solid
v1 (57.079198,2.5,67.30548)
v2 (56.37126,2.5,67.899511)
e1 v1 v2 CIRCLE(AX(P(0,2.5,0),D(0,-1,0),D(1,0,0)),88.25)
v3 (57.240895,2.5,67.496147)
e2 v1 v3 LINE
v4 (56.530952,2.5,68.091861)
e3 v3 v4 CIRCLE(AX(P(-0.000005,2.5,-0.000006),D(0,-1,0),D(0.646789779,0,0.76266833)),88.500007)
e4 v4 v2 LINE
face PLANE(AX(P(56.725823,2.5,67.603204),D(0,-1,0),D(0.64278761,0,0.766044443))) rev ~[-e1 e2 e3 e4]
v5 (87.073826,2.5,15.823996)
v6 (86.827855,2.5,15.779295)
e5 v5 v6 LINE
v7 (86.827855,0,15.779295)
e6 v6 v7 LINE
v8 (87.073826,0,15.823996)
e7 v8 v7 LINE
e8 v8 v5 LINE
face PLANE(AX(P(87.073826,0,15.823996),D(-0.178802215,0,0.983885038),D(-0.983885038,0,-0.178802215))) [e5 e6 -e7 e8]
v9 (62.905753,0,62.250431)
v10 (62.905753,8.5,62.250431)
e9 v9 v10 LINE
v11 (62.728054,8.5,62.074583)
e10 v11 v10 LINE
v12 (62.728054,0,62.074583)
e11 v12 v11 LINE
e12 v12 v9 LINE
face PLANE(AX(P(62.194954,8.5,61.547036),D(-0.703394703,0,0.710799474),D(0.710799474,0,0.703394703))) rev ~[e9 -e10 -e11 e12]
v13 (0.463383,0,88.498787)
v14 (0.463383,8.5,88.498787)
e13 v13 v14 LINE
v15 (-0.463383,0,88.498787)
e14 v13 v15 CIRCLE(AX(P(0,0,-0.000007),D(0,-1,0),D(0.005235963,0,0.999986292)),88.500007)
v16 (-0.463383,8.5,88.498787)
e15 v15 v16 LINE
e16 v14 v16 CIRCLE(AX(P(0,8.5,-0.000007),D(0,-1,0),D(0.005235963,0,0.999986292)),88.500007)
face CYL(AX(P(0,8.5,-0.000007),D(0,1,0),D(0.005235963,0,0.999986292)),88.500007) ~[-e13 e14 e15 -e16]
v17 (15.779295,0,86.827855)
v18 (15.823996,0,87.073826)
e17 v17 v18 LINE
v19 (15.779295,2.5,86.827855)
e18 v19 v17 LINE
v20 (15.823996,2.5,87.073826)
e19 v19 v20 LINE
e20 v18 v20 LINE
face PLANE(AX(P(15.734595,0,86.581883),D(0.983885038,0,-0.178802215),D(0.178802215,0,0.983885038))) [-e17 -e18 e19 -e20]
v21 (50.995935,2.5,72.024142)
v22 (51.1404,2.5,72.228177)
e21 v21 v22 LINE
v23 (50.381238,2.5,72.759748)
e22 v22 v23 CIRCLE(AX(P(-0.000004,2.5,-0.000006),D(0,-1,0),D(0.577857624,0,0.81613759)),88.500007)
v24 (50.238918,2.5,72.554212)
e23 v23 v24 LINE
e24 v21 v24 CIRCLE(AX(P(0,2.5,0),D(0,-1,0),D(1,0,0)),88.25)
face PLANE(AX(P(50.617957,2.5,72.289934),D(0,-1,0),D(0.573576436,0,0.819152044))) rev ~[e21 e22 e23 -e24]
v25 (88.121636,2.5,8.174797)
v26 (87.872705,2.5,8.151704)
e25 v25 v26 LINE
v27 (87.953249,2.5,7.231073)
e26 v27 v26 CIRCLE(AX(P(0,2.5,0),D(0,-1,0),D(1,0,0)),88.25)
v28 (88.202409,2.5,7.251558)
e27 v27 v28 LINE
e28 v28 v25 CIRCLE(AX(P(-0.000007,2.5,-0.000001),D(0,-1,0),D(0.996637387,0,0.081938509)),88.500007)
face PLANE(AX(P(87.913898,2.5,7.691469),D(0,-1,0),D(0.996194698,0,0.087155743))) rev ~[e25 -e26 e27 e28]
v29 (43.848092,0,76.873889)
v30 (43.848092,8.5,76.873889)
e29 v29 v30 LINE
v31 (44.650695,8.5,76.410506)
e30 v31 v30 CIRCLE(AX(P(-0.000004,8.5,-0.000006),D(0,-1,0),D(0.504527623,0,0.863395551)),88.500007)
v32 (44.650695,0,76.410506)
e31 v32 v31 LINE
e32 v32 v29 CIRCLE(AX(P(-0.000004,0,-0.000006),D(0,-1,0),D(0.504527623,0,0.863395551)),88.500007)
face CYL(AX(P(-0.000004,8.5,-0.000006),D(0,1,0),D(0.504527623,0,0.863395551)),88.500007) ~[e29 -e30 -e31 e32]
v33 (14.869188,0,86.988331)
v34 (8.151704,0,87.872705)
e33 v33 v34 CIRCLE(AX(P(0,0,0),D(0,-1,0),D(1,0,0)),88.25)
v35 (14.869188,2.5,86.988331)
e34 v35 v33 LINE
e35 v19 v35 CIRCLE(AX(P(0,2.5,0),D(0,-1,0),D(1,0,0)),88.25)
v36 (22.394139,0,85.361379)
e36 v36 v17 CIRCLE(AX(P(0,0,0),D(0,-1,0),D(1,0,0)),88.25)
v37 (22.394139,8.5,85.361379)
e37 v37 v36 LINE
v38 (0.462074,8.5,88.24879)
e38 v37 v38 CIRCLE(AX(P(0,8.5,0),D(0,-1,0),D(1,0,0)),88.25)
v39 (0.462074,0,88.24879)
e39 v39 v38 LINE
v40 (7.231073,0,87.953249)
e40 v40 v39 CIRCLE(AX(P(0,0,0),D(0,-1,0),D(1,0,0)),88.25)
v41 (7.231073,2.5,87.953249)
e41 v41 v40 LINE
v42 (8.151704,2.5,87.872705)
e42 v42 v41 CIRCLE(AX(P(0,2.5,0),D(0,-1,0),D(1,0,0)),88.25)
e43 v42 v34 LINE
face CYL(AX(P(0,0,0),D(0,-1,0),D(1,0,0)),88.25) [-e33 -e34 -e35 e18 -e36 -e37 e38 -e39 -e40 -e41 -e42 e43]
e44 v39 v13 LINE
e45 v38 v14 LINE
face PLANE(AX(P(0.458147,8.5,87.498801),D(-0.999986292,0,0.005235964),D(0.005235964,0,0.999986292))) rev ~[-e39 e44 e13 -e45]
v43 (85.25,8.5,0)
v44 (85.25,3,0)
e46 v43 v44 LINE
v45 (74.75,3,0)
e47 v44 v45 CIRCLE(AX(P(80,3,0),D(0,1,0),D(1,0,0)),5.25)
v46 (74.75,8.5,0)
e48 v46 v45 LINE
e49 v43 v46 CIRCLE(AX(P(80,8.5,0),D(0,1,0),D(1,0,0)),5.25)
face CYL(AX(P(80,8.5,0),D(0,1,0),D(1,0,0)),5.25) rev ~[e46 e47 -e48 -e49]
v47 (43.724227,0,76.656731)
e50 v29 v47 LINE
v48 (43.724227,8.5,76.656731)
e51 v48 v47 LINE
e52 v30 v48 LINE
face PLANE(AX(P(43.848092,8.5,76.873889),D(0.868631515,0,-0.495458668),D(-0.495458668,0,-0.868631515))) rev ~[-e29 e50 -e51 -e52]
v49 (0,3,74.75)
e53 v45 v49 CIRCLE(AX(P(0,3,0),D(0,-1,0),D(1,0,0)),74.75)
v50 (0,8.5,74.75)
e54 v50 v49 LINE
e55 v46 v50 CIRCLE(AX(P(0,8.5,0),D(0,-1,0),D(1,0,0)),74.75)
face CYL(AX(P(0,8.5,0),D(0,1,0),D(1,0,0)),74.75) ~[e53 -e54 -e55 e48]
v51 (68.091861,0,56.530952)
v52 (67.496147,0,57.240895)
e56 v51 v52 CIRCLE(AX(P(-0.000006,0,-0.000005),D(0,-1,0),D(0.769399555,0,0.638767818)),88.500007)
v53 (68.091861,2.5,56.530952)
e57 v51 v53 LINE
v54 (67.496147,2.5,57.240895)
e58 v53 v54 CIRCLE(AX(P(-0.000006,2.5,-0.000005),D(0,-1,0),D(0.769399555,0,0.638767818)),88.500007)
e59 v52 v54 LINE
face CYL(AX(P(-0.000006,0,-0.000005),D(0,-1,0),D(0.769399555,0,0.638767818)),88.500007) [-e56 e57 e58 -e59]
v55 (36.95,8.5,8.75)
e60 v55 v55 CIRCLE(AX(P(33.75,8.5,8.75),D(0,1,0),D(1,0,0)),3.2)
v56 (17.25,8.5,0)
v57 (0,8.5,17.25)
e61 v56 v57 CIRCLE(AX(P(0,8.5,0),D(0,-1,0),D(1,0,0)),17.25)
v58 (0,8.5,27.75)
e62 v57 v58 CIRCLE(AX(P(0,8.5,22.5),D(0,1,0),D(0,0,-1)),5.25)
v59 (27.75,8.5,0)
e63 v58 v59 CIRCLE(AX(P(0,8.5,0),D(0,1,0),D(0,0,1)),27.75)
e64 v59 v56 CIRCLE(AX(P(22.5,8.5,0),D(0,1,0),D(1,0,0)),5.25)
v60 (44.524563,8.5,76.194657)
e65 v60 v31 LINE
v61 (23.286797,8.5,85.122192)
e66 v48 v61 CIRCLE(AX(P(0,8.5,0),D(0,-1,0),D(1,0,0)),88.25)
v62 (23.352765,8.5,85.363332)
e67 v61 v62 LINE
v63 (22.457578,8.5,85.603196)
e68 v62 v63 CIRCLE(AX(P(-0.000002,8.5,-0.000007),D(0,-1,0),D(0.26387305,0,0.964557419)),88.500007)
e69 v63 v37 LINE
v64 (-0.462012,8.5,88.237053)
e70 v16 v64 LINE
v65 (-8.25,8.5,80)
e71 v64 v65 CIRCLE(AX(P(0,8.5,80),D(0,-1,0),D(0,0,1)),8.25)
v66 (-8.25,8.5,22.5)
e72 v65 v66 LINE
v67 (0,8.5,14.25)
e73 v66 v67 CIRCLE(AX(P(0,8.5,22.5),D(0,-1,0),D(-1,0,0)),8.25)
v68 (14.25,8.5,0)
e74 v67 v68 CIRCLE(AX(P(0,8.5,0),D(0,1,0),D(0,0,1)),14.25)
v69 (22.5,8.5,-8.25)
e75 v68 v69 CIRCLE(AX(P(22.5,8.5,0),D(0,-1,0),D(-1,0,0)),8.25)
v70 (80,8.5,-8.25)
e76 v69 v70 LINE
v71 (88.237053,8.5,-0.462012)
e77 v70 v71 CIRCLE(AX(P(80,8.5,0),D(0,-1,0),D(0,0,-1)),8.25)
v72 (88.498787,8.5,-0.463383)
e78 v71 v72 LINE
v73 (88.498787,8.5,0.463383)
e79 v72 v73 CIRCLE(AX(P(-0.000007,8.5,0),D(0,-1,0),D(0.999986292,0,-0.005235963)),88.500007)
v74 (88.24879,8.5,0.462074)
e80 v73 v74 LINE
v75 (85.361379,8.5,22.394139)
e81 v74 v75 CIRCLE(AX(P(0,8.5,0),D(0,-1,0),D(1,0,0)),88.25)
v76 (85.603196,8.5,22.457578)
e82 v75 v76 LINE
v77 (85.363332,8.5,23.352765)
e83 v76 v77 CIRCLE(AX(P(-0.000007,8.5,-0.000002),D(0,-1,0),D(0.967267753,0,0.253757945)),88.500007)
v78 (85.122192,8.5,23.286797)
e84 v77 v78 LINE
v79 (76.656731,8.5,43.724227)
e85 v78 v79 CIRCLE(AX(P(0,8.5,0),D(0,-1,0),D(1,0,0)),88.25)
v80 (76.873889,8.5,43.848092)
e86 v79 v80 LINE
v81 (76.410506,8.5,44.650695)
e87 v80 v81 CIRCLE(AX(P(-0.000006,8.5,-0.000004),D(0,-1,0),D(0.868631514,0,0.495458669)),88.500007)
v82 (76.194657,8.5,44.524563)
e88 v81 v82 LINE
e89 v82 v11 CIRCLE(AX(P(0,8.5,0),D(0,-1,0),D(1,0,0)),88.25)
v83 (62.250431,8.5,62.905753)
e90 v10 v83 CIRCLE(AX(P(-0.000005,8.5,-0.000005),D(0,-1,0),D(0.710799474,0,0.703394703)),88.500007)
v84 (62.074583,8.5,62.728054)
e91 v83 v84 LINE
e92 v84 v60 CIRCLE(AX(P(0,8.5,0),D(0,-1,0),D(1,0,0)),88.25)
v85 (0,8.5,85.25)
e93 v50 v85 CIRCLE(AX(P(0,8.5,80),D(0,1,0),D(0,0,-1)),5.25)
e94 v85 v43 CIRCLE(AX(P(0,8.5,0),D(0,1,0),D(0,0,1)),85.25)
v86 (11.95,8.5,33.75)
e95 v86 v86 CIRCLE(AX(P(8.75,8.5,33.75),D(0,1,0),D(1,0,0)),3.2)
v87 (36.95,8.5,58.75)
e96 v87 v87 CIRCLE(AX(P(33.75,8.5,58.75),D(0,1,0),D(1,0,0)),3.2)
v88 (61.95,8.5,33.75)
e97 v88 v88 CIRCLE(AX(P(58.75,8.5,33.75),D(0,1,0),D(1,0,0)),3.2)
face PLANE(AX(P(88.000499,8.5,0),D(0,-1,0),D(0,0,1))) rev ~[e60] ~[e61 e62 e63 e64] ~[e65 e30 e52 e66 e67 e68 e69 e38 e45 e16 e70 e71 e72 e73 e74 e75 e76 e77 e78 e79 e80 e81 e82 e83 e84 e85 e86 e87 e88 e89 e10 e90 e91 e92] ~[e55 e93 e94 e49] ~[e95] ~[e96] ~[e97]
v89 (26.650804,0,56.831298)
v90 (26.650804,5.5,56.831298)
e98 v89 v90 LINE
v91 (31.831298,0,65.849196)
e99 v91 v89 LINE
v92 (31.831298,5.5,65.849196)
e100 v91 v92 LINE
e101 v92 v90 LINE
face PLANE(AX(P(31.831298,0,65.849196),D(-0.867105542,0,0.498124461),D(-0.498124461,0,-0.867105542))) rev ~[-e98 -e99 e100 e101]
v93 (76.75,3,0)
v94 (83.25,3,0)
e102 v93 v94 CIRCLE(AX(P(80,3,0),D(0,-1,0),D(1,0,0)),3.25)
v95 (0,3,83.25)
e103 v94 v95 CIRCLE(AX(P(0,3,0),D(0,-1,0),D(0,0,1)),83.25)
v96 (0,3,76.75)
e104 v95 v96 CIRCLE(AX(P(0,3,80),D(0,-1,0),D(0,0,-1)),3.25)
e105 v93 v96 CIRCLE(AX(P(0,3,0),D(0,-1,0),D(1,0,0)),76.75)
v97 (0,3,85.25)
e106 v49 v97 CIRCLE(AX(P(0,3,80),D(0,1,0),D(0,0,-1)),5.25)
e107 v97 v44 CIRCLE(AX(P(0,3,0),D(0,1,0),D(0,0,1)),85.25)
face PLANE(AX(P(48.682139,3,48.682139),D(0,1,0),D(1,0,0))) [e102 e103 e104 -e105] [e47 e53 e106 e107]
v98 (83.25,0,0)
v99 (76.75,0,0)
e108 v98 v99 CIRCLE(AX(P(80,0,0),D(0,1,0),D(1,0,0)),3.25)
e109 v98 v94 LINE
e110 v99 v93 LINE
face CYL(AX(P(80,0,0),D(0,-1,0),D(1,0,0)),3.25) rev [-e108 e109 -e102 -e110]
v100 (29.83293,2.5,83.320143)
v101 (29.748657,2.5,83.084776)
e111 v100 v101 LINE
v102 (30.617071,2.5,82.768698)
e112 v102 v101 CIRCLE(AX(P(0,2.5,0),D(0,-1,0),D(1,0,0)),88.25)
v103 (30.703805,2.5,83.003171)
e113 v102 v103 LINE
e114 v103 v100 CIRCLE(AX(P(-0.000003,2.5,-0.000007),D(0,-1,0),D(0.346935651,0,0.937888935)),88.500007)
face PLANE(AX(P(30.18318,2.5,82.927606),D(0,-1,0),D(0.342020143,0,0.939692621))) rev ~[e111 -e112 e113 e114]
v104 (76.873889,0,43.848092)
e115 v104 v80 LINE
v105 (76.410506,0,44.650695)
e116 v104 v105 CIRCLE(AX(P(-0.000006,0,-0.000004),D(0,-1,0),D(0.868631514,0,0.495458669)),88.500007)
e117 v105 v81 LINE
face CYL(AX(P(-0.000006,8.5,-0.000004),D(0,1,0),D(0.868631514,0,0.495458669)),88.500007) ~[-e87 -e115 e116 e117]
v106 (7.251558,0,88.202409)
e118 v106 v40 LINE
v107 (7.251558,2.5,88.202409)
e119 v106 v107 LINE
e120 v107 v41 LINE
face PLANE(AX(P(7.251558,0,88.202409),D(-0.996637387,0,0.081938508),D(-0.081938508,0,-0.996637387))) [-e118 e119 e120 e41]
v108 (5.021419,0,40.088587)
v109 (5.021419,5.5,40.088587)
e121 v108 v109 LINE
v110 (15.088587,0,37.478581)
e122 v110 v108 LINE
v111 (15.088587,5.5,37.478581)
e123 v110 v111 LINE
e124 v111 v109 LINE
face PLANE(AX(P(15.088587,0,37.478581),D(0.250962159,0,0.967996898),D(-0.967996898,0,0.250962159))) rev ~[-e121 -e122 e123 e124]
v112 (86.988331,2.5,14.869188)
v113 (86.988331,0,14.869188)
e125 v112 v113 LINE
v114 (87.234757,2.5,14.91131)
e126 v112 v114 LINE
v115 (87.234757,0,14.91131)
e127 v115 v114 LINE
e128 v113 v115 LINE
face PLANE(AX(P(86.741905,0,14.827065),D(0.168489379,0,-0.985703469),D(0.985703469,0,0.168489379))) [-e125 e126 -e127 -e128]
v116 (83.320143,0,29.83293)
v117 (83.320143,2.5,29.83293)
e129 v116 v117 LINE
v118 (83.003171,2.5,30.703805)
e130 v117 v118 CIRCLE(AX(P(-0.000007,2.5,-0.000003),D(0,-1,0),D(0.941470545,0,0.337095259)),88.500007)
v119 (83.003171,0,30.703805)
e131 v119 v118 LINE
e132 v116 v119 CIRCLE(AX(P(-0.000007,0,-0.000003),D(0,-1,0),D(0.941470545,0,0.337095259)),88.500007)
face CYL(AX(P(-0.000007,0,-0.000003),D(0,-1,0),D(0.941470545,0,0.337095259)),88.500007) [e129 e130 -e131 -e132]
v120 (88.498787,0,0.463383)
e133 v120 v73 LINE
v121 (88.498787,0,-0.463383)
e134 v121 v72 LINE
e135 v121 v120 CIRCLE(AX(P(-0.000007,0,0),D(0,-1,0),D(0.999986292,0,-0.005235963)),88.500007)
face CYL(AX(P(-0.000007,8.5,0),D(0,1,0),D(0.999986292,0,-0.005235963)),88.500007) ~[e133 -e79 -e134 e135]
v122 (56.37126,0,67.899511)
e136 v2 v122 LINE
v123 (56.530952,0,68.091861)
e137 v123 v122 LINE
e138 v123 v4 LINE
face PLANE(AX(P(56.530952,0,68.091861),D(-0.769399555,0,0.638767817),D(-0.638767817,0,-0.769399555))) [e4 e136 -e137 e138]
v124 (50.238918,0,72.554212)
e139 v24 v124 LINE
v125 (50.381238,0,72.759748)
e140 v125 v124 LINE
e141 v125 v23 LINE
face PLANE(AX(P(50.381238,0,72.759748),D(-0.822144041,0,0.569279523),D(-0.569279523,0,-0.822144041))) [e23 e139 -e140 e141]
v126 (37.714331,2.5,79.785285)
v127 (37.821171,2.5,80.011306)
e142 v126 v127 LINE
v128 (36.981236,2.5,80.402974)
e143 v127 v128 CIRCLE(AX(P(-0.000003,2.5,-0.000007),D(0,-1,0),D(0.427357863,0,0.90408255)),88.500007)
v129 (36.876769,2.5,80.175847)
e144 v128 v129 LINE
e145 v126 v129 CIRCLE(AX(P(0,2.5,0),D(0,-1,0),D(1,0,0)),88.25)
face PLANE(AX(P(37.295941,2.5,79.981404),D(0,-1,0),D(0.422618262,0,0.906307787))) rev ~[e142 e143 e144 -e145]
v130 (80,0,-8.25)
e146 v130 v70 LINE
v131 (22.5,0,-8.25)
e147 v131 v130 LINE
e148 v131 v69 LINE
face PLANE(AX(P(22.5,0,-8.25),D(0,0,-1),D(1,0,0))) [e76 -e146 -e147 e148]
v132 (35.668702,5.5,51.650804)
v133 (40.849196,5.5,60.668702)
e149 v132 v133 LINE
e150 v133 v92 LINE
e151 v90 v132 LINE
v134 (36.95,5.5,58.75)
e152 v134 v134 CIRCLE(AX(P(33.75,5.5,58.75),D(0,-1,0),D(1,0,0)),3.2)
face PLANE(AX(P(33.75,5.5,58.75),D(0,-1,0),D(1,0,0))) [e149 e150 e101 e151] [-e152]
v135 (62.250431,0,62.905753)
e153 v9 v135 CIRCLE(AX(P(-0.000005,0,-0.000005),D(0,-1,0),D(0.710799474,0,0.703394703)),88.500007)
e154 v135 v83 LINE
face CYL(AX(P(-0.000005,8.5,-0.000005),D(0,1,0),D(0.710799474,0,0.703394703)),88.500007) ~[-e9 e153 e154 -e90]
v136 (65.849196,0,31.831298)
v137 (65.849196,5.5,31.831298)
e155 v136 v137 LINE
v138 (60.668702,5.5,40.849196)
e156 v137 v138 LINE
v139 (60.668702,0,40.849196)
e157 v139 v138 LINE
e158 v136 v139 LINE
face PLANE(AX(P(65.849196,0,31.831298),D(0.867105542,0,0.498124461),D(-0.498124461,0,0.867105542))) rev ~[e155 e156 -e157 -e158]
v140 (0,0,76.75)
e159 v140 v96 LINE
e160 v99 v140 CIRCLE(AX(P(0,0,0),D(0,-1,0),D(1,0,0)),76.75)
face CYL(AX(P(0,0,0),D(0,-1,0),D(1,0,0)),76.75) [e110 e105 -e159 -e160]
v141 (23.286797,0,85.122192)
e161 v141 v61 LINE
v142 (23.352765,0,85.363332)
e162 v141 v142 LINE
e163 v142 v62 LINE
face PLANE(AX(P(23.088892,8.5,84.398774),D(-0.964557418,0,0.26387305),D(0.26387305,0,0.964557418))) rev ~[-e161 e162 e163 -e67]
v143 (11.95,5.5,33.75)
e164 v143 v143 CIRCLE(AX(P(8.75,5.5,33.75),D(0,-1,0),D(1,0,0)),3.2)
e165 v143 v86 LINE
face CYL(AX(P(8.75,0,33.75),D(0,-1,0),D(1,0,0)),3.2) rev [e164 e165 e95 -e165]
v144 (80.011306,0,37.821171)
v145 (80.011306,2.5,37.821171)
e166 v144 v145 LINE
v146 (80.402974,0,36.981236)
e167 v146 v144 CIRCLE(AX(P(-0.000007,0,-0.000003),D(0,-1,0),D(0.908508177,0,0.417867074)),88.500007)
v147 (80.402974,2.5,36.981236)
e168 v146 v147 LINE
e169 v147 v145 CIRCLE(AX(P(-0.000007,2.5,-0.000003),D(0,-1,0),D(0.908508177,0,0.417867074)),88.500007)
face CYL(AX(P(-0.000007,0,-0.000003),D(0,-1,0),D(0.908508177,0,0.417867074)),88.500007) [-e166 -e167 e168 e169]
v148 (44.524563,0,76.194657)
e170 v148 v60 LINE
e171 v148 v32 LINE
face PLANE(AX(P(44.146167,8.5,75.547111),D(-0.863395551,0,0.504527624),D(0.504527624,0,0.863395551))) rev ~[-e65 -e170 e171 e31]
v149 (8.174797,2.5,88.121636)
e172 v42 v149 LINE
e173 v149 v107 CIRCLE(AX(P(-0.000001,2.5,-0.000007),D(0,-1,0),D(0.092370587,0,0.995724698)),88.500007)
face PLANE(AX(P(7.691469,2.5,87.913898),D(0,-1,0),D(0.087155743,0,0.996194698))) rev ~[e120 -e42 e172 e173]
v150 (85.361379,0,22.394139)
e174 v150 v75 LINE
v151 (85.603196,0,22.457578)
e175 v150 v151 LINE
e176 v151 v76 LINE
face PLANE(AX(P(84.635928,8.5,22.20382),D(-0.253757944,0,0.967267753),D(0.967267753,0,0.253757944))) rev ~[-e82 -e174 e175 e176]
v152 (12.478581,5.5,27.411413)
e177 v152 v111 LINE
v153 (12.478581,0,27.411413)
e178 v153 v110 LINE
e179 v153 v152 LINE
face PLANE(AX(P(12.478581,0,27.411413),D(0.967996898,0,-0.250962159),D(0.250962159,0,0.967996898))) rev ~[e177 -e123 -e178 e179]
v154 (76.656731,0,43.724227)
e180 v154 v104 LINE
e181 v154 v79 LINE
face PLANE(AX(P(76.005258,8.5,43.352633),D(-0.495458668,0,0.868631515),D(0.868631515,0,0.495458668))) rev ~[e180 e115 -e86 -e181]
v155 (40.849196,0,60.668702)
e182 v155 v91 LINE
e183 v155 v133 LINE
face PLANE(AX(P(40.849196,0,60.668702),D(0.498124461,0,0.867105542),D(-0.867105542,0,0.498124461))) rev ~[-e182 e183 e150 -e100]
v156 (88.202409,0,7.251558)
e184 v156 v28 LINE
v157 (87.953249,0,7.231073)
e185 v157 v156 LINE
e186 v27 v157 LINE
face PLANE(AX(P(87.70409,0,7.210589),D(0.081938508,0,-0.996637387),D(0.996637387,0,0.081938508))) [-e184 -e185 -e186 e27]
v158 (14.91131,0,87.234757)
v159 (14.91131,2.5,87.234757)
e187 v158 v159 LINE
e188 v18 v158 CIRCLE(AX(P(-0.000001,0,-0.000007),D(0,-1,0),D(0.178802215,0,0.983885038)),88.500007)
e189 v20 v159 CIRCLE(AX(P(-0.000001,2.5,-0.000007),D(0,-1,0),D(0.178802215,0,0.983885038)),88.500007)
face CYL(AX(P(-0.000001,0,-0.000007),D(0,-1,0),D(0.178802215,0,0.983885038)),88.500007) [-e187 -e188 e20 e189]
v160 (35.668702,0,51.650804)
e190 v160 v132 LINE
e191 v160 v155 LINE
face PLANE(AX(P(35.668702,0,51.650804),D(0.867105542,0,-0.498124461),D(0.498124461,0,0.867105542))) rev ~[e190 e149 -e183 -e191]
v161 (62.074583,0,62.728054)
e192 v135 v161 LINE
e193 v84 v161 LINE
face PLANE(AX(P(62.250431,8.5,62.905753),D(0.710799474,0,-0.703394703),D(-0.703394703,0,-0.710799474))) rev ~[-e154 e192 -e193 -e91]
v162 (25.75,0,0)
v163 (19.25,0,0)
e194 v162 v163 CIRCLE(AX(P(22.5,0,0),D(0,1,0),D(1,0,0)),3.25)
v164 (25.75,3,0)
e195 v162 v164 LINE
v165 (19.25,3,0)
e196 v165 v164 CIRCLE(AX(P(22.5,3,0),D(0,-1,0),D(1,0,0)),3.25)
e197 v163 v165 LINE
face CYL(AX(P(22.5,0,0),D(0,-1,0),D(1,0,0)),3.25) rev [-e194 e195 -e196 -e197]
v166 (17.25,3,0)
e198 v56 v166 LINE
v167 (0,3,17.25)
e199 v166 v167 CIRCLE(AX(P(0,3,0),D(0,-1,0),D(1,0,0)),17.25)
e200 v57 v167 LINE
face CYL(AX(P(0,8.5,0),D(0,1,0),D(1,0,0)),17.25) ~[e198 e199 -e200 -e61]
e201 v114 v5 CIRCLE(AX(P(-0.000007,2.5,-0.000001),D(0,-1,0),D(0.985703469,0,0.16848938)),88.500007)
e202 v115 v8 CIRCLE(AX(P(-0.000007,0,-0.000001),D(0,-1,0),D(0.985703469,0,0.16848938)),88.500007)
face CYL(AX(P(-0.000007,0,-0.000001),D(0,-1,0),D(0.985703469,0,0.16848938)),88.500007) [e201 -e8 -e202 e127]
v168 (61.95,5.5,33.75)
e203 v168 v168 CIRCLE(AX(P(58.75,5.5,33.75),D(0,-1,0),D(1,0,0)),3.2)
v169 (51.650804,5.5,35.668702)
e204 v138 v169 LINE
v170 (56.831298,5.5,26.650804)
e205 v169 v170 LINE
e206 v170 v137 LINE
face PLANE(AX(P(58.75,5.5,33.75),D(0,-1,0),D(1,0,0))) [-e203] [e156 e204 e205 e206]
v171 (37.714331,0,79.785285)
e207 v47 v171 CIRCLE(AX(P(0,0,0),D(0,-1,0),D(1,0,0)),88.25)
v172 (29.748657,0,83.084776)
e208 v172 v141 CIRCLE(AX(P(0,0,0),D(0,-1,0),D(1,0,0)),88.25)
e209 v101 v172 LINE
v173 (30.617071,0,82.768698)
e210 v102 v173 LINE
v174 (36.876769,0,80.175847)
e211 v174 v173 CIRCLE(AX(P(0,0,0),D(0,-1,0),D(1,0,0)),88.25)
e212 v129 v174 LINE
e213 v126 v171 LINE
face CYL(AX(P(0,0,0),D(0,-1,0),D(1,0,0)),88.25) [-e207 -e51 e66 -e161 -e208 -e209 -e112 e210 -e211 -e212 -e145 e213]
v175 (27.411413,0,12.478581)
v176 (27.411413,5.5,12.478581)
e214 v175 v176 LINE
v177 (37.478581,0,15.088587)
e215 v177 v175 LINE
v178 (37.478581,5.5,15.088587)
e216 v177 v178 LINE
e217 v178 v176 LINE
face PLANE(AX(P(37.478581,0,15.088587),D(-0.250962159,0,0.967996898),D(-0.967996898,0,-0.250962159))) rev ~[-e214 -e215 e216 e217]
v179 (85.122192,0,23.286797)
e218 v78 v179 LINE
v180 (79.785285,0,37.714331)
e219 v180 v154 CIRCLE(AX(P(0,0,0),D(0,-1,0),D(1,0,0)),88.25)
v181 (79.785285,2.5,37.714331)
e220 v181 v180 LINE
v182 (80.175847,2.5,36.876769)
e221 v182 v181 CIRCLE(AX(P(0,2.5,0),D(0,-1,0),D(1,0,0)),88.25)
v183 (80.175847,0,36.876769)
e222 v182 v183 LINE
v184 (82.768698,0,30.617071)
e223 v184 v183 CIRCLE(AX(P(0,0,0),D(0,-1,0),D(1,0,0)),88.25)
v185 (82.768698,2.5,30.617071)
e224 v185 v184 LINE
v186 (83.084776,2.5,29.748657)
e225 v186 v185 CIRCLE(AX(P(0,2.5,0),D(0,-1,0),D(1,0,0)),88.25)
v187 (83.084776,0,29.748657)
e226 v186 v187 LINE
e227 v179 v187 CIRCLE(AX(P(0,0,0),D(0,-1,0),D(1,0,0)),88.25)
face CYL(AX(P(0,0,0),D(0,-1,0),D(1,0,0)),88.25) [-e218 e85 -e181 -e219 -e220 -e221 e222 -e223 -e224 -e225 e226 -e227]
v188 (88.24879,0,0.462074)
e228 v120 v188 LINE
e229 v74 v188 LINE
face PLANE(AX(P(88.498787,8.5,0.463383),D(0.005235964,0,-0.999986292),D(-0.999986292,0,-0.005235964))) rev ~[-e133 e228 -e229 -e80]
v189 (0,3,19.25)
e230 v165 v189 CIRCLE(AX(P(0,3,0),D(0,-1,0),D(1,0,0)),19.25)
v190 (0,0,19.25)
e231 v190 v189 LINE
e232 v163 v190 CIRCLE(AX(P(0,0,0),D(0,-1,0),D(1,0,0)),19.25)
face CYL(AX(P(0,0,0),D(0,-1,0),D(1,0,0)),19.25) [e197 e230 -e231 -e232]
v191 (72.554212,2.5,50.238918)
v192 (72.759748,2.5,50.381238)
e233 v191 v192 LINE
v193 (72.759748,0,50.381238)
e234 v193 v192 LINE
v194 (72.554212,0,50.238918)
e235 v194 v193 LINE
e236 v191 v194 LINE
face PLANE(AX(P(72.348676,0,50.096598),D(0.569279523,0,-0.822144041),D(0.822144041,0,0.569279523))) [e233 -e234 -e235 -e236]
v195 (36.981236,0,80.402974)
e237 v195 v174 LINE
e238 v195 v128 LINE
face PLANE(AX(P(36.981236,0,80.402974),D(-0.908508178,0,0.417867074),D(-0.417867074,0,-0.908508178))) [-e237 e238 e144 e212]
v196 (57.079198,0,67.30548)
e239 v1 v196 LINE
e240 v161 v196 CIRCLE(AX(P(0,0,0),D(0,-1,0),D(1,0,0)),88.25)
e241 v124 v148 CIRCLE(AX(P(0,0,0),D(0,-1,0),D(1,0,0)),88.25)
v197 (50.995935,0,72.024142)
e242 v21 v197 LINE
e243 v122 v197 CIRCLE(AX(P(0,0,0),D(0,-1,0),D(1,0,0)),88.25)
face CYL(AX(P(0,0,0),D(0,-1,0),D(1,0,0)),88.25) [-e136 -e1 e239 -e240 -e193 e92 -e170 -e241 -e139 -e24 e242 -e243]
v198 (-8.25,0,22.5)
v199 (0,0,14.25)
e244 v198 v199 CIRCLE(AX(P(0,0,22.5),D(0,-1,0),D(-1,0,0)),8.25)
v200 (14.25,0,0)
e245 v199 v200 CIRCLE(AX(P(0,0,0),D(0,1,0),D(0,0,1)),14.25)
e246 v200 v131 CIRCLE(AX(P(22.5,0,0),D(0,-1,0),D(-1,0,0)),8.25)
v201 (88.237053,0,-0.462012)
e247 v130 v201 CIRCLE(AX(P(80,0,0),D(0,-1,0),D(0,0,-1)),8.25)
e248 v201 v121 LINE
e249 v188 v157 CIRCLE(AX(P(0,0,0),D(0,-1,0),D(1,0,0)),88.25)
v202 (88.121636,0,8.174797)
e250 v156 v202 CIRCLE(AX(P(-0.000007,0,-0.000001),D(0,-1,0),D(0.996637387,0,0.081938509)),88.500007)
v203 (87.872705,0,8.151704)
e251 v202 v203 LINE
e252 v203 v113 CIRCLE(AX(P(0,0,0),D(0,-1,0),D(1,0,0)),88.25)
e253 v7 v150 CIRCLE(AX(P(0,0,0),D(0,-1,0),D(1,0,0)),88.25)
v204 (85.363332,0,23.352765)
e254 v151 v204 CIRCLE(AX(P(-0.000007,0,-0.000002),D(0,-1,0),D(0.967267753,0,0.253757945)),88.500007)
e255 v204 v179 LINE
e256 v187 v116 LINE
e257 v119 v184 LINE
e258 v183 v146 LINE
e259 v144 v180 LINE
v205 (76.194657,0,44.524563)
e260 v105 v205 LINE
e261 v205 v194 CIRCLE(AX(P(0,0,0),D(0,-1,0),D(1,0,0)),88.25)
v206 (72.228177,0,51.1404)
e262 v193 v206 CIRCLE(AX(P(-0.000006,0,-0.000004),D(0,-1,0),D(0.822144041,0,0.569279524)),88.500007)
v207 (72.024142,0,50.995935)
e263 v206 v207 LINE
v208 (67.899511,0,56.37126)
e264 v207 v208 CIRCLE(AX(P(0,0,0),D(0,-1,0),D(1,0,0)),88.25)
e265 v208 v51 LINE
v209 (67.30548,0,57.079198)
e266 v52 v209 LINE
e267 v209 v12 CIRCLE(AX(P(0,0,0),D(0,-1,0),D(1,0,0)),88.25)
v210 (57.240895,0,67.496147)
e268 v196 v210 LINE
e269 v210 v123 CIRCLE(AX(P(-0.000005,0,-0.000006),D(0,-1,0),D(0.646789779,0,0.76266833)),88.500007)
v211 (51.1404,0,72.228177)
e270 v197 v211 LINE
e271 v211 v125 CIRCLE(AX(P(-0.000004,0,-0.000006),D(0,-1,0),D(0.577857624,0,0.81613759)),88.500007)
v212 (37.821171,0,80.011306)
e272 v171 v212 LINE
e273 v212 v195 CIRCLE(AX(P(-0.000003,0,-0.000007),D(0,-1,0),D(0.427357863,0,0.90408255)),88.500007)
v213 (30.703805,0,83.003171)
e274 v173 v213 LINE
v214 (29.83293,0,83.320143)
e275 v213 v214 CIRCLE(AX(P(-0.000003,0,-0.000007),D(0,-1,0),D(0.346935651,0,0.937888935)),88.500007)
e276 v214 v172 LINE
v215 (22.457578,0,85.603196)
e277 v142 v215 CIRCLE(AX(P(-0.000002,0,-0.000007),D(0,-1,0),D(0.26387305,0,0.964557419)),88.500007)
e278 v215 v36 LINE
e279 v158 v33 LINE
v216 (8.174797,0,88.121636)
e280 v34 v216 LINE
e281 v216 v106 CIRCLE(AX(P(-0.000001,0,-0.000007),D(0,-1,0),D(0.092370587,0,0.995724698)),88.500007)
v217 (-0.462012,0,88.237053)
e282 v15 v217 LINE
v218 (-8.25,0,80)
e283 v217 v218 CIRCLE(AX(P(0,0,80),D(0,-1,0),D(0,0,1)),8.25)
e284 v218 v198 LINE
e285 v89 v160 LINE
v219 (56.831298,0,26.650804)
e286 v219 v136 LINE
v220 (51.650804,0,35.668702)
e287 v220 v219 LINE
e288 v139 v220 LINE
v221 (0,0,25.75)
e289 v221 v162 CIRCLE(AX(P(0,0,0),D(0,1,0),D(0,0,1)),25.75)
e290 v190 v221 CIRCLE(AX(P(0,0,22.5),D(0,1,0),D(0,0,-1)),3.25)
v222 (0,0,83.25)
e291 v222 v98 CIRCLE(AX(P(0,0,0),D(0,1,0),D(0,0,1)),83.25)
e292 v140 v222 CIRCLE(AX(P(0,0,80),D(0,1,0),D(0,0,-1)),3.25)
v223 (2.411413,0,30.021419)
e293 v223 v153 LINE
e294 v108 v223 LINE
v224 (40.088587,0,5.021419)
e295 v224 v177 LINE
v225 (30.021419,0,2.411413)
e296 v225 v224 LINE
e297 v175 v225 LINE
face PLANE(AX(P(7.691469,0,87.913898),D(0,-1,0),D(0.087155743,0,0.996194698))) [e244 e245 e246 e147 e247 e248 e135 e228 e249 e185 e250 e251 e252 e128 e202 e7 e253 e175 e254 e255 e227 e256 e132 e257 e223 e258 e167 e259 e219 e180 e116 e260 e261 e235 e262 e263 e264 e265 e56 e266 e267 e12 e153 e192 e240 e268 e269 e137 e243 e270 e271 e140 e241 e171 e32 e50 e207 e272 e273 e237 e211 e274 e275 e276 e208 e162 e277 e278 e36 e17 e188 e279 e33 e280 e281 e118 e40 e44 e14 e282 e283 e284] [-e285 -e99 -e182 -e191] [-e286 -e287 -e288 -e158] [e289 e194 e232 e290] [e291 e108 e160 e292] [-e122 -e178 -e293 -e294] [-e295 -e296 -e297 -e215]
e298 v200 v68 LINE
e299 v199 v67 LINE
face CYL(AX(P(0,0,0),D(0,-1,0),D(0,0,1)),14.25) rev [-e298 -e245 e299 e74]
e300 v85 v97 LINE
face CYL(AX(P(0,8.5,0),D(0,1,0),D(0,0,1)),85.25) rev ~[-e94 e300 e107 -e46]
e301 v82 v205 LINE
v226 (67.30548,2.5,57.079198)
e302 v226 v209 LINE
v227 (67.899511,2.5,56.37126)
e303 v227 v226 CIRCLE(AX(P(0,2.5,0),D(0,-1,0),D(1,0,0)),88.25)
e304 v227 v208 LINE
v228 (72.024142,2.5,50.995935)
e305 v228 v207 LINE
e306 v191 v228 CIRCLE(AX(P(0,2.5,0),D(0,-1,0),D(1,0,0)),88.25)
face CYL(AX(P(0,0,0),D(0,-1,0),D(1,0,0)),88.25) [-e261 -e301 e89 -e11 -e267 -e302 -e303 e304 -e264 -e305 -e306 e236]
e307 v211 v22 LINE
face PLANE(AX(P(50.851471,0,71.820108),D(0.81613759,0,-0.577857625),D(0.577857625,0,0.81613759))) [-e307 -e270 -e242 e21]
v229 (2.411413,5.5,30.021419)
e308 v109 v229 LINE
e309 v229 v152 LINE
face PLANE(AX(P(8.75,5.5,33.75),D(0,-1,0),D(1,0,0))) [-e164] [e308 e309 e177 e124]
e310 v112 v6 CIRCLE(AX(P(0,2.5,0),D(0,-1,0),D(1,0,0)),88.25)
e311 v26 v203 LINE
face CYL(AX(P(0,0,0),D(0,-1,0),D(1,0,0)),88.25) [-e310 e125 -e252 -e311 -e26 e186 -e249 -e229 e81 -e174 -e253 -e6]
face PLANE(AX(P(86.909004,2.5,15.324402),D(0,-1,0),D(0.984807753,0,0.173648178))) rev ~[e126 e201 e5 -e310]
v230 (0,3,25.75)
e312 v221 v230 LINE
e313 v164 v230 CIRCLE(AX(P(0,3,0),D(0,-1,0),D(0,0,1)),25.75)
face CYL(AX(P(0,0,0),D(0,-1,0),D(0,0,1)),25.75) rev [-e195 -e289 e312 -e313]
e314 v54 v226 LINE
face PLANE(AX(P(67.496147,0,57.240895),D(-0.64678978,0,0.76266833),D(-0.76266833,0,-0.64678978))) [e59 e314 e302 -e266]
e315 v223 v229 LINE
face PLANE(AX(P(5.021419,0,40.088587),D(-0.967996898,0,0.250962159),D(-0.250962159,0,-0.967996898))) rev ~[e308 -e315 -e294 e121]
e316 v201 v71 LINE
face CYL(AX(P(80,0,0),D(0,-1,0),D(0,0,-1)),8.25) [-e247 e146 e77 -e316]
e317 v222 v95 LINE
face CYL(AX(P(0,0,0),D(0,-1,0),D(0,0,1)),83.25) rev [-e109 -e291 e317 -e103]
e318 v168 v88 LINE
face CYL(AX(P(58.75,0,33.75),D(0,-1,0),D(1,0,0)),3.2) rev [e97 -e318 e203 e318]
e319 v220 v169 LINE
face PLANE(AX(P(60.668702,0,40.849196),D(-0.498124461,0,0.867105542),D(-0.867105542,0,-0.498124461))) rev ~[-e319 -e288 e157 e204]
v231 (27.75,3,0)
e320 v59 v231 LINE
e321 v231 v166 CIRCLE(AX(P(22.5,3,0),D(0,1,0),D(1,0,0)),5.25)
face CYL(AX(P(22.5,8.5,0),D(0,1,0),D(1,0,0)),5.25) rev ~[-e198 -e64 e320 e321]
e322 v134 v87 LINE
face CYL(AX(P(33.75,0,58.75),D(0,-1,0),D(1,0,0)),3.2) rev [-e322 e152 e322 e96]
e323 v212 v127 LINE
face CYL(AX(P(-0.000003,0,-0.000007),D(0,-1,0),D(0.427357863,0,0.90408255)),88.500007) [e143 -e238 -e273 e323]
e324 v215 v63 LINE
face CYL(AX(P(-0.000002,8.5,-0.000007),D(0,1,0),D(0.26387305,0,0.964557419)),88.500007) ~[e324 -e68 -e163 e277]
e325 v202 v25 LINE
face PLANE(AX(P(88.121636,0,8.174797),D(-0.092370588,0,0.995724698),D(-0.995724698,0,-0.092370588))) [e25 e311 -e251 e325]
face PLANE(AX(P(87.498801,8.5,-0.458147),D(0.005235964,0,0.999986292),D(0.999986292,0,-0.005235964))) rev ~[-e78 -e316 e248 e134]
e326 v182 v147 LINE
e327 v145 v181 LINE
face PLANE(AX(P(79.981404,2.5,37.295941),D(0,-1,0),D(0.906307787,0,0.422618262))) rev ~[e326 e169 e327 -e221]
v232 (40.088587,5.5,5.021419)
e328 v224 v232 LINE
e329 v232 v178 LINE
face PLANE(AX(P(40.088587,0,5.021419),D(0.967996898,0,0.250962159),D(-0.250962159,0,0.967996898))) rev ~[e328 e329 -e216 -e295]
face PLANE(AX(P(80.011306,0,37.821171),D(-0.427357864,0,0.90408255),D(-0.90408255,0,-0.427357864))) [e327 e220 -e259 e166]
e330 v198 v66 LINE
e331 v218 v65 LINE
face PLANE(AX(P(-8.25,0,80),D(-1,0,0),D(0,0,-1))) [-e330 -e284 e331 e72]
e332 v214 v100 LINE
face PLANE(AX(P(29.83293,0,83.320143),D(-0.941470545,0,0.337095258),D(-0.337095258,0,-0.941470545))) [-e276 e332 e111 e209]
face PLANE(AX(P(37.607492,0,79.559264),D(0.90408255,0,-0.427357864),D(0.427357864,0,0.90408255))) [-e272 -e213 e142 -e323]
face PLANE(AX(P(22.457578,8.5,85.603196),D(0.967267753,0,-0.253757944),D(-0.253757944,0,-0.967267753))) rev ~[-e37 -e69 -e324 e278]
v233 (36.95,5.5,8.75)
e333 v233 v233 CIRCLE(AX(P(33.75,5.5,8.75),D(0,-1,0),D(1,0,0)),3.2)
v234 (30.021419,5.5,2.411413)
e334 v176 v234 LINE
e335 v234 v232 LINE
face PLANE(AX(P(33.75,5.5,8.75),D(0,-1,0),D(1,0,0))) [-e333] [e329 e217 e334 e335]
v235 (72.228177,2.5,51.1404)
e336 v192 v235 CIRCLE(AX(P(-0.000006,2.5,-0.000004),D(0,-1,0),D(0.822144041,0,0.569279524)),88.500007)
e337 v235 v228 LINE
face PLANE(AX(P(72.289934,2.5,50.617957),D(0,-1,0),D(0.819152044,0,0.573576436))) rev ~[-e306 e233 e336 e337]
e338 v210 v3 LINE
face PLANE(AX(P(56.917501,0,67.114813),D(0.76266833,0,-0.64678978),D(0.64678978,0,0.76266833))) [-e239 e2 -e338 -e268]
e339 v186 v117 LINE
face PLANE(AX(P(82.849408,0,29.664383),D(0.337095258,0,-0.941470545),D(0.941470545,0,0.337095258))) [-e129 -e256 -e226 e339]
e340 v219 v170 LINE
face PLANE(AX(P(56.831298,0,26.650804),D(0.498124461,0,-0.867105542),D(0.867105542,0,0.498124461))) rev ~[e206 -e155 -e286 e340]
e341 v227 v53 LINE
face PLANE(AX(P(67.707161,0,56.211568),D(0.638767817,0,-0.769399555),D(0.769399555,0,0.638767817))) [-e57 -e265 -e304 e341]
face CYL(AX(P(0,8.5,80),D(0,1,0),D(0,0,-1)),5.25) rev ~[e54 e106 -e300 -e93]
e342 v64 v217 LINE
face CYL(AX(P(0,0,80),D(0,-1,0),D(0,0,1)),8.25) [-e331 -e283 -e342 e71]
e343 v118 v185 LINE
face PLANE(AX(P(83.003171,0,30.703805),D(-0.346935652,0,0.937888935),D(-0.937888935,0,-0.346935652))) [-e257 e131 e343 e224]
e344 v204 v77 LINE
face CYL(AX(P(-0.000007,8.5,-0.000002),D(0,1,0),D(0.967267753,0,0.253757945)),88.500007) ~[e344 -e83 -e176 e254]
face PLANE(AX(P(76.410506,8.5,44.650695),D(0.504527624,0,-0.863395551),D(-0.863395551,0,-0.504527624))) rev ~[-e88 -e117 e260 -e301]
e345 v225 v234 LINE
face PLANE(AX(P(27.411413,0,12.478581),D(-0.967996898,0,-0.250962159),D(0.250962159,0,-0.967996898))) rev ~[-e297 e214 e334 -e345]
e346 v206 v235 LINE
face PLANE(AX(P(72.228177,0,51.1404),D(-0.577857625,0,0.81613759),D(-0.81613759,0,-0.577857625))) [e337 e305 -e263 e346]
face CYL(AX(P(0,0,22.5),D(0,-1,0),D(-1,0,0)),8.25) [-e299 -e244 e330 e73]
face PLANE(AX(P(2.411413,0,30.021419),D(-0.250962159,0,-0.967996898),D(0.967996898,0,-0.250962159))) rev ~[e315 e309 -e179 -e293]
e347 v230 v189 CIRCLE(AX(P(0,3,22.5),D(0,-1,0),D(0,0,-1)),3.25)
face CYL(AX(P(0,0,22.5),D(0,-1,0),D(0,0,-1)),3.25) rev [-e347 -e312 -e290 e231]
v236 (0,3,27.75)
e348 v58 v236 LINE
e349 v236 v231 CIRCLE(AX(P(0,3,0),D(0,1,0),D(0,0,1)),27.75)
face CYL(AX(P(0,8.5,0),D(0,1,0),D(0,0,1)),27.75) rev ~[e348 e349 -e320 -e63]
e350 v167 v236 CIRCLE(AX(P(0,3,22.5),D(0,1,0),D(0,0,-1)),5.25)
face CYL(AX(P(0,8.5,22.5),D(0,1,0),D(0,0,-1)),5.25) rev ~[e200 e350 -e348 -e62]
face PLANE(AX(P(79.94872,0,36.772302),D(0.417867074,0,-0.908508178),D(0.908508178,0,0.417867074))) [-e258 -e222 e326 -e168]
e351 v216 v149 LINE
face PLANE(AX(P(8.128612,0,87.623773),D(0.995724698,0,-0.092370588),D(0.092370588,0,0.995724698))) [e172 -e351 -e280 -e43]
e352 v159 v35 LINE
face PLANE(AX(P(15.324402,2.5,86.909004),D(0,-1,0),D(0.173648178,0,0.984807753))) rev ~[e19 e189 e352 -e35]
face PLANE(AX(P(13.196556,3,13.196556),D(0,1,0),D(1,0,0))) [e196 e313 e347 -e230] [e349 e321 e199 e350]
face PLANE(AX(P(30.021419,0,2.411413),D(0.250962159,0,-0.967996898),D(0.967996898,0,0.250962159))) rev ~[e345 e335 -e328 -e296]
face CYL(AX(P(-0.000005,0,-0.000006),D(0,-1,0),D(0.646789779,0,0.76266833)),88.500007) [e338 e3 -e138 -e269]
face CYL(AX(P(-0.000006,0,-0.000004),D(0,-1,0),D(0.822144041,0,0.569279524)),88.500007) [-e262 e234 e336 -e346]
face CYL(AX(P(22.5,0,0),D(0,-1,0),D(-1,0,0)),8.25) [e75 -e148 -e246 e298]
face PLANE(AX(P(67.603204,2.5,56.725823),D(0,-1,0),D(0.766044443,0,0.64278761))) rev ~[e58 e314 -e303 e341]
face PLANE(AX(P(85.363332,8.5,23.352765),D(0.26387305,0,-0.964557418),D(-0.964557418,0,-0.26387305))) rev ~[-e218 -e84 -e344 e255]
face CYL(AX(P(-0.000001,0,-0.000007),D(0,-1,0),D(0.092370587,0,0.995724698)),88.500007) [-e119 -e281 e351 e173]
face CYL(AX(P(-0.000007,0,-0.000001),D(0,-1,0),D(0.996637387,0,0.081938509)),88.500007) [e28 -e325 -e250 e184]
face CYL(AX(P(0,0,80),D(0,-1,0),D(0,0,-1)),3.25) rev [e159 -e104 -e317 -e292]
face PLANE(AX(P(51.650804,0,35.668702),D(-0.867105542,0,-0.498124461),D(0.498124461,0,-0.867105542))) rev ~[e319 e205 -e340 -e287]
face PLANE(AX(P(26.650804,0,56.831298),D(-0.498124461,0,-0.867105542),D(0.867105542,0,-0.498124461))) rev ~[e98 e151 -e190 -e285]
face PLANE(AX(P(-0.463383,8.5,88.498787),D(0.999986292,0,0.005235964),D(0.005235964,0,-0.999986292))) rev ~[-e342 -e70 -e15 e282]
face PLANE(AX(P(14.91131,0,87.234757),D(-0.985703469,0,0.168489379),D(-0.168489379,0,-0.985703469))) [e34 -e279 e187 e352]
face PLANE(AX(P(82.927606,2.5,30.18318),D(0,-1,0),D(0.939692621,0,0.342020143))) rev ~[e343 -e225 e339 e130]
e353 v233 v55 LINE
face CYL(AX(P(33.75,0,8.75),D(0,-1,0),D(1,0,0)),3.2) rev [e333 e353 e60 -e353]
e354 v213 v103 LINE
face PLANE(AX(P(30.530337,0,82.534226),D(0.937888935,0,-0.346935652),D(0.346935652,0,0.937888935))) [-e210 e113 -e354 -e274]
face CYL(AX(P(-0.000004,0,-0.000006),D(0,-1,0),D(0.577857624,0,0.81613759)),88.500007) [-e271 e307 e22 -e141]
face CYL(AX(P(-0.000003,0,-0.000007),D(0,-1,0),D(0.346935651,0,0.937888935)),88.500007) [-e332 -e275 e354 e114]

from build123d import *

# Parameters (mm, degrees)
SKETCH_1_R               = 3.2
EXTRUDE_1_DEPTH          = 8.5
EXTRUDE_2_DEPTH          = 8.5
PATTERN_CIRCULAR_1_COUNT = 7
PATTERN_CIRCULAR_1_ANGLE = 90
EXTRUDE_3_DEPTH          = 2.5
PATTERN_CIRCULAR_2_COUNT = 19
PATTERN_CIRCULAR_2_ANGLE = 90
CUT_EXTRUDE_1_DEPTH      = 5.5
CUT_EXTRUDE_2_DEPTH      = 5.5


with BuildPart() as part:
    # 스케치1 → 보스-돌출1 (new body)
    with BuildSketch(Plane(origin=(0, 0, 0), x_dir=(1, 0, 0), z_dir=(0, 1, 0))):
        with BuildLine():
            Line((-8.25, -80), (-8.25, -22.5))
            ThreePointArc((-8.25, -22.5), (-5.833630945, -16.666369055), (0, -14.25))
            ThreePointArc((0, -14.25), (10.076271632, -10.076271632), (14.25, 0))
            ThreePointArc((14.25, 0), (16.666369055, 5.833630945), (22.5, 8.25))
            Line((22.5, 8.25), (80, 8.25))
            ThreePointArc((80, 8.25), (85.833630945, 5.833630945), (88.25, 0))
            ThreePointArc((88.25, 0), (62.40217344, -62.40217344), (0, -88.25))
            ThreePointArc((0, -88.25), (-5.833630945, -85.833630945), (-8.25, -80))
        make_face()
        with Locations((58.75, -33.75)):
            Circle(SKETCH_1_R, mode=Mode.SUBTRACT)
        with Locations((33.75, -58.75)):
            Circle(SKETCH_1_R, mode=Mode.SUBTRACT)
        with Locations((8.75, -33.75)):
            Circle(SKETCH_1_R, mode=Mode.SUBTRACT)
        with Locations((33.75, -8.75)):
            Circle(SKETCH_1_R, mode=Mode.SUBTRACT)
        with BuildLine():
            ThreePointArc((0, -19.25), (-3.25, -22.5), (0, -25.75))
            ThreePointArc((0, -25.75), (18.207999616, -18.207999616), (25.75, 0))
            ThreePointArc((25.75, 0), (22.5, 3.25), (19.25, 0))
            ThreePointArc((19.25, 0), (13.611805538, -13.611805538), (0, -19.25))
        make_face(mode=Mode.SUBTRACT)
        with BuildLine():
            ThreePointArc((0, -76.75), (-3.25, -80), (0, -83.25))
            ThreePointArc((0, -83.25), (58.866639534, -58.866639534), (83.25, 0))
            ThreePointArc((83.25, 0), (80, 3.25), (76.75, 0))
            ThreePointArc((76.75, 0), (54.270445456, -54.270445456), (0, -76.75))
        make_face(mode=Mode.SUBTRACT)
    extrude(amount=EXTRUDE_1_DEPTH)

    # 스케치2 → 보스-돌출2 (add)
    with BuildSketch(Plane(origin=(0, 8.5, 0), x_dir=(1, 0, 0), z_dir=(0, 1, 0))):
        with BuildLine():
            Line((0.458146835, -87.498800572), (0.463382799, -88.498786864))
            ThreePointArc((0.463382799, -88.498786864), (0, -88.5), (-0.463382799, -88.498786864))
            Line((-0.463382799, -88.498786864), (-0.458146835, -87.498800572))
            ThreePointArc((-0.458146835, -87.498800572), (0, -87.5), (0.458146835, -87.498800572))
        make_face()
    extrude_2 = extrude(amount=-EXTRUDE_2_DEPTH)

    # 원형 패턴1: 보스-돌출2 ×7 about axis
    pattern_circular_1_axis = Axis((0, 0, 0), (0, 1, 0))
    for i in range(1, PATTERN_CIRCULAR_1_COUNT):
        add(extrude_2.rotate(pattern_circular_1_axis, i * PATTERN_CIRCULAR_1_ANGLE / (PATTERN_CIRCULAR_1_COUNT - 1)))

    # 스케치6 → 보스-돌출3 (add)
    with BuildSketch(Plane.XZ):
        with BuildLine():
            Line((88.498786864, 0.463382799), (87.998793718, 0.460764817))
            ThreePointArc((87.998793718, 0.460764817), (88, 0), (87.998793718, -0.460764817))
            Line((87.998793718, -0.460764817), (88.498786864, -0.463382799))
            ThreePointArc((88.498786864, -0.463382799), (88.5, 0), (88.498786864, 0.463382799))
        make_face()
    extrude_3 = extrude(amount=-EXTRUDE_3_DEPTH)

    # 원형 패턴2: 보스-돌출3 ×19 about axis
    pattern_circular_2_axis = Axis((0, 8.5, 0), (0, -1, 0))
    for i in range(1, PATTERN_CIRCULAR_2_COUNT):
        add(extrude_3.rotate(pattern_circular_2_axis, i * PATTERN_CIRCULAR_2_ANGLE / (PATTERN_CIRCULAR_2_COUNT - 1)))

    # 스케치7 → 컷-돌출1 (cut)
    with BuildSketch(Plane.XZ):
        Polygon((26.650803984, 56.831298374), (35.668701626, 51.650803984), (40.849196016, 60.668701626), (31.831298374, 65.849196016), align=None)
        Polygon((51.650803984, 35.668701626), (56.831298374, 26.650803984), (65.849196016, 31.831298374), (60.668701626, 40.849196016), align=None)
        Polygon((30.021419355, 2.411412904), (40.088587096, 5.021419355), (37.478580645, 15.088587096), (27.411412904, 12.478580645), align=None)
        Polygon((2.411412904, 30.021419355), (12.478580645, 27.411412904), (15.088587096, 37.478580645), (5.021419355, 40.088587096), align=None)
    extrude(amount=-CUT_EXTRUDE_1_DEPTH, mode=Mode.SUBTRACT)

    # 스케치8 → 컷-돌출2 (cut)
    with BuildSketch(Plane(origin=(0, 8.5, 0), x_dir=(1, 0, 0), z_dir=(0, 1, 0))):
        with BuildLine():
            ThreePointArc((27.75, 0), (22.5, 5.25), (17.25, 0))
            ThreePointArc((17.25, 0), (12.197591975, -12.197591975), (0, -17.25))
            ThreePointArc((0, -17.25), (-5.25, -22.5), (0, -27.75))
            ThreePointArc((0, -27.75), (19.622213178, -19.622213178), (27.75, 0))
        make_face()
        with BuildLine():
            ThreePointArc((85.25, 0), (80, 5.25), (74.75, 0))
            ThreePointArc((74.75, 0), (52.856231894, -52.856231894), (0, -74.75))
            ThreePointArc((0, -74.75), (-5.25, -80), (0, -85.25))
            ThreePointArc((0, -85.25), (60.280853096, -60.280853096), (85.25, 0))
        make_face()
    extrude(amount=-CUT_EXTRUDE_2_DEPTH, mode=Mode.SUBTRACT)


solid = part.part
